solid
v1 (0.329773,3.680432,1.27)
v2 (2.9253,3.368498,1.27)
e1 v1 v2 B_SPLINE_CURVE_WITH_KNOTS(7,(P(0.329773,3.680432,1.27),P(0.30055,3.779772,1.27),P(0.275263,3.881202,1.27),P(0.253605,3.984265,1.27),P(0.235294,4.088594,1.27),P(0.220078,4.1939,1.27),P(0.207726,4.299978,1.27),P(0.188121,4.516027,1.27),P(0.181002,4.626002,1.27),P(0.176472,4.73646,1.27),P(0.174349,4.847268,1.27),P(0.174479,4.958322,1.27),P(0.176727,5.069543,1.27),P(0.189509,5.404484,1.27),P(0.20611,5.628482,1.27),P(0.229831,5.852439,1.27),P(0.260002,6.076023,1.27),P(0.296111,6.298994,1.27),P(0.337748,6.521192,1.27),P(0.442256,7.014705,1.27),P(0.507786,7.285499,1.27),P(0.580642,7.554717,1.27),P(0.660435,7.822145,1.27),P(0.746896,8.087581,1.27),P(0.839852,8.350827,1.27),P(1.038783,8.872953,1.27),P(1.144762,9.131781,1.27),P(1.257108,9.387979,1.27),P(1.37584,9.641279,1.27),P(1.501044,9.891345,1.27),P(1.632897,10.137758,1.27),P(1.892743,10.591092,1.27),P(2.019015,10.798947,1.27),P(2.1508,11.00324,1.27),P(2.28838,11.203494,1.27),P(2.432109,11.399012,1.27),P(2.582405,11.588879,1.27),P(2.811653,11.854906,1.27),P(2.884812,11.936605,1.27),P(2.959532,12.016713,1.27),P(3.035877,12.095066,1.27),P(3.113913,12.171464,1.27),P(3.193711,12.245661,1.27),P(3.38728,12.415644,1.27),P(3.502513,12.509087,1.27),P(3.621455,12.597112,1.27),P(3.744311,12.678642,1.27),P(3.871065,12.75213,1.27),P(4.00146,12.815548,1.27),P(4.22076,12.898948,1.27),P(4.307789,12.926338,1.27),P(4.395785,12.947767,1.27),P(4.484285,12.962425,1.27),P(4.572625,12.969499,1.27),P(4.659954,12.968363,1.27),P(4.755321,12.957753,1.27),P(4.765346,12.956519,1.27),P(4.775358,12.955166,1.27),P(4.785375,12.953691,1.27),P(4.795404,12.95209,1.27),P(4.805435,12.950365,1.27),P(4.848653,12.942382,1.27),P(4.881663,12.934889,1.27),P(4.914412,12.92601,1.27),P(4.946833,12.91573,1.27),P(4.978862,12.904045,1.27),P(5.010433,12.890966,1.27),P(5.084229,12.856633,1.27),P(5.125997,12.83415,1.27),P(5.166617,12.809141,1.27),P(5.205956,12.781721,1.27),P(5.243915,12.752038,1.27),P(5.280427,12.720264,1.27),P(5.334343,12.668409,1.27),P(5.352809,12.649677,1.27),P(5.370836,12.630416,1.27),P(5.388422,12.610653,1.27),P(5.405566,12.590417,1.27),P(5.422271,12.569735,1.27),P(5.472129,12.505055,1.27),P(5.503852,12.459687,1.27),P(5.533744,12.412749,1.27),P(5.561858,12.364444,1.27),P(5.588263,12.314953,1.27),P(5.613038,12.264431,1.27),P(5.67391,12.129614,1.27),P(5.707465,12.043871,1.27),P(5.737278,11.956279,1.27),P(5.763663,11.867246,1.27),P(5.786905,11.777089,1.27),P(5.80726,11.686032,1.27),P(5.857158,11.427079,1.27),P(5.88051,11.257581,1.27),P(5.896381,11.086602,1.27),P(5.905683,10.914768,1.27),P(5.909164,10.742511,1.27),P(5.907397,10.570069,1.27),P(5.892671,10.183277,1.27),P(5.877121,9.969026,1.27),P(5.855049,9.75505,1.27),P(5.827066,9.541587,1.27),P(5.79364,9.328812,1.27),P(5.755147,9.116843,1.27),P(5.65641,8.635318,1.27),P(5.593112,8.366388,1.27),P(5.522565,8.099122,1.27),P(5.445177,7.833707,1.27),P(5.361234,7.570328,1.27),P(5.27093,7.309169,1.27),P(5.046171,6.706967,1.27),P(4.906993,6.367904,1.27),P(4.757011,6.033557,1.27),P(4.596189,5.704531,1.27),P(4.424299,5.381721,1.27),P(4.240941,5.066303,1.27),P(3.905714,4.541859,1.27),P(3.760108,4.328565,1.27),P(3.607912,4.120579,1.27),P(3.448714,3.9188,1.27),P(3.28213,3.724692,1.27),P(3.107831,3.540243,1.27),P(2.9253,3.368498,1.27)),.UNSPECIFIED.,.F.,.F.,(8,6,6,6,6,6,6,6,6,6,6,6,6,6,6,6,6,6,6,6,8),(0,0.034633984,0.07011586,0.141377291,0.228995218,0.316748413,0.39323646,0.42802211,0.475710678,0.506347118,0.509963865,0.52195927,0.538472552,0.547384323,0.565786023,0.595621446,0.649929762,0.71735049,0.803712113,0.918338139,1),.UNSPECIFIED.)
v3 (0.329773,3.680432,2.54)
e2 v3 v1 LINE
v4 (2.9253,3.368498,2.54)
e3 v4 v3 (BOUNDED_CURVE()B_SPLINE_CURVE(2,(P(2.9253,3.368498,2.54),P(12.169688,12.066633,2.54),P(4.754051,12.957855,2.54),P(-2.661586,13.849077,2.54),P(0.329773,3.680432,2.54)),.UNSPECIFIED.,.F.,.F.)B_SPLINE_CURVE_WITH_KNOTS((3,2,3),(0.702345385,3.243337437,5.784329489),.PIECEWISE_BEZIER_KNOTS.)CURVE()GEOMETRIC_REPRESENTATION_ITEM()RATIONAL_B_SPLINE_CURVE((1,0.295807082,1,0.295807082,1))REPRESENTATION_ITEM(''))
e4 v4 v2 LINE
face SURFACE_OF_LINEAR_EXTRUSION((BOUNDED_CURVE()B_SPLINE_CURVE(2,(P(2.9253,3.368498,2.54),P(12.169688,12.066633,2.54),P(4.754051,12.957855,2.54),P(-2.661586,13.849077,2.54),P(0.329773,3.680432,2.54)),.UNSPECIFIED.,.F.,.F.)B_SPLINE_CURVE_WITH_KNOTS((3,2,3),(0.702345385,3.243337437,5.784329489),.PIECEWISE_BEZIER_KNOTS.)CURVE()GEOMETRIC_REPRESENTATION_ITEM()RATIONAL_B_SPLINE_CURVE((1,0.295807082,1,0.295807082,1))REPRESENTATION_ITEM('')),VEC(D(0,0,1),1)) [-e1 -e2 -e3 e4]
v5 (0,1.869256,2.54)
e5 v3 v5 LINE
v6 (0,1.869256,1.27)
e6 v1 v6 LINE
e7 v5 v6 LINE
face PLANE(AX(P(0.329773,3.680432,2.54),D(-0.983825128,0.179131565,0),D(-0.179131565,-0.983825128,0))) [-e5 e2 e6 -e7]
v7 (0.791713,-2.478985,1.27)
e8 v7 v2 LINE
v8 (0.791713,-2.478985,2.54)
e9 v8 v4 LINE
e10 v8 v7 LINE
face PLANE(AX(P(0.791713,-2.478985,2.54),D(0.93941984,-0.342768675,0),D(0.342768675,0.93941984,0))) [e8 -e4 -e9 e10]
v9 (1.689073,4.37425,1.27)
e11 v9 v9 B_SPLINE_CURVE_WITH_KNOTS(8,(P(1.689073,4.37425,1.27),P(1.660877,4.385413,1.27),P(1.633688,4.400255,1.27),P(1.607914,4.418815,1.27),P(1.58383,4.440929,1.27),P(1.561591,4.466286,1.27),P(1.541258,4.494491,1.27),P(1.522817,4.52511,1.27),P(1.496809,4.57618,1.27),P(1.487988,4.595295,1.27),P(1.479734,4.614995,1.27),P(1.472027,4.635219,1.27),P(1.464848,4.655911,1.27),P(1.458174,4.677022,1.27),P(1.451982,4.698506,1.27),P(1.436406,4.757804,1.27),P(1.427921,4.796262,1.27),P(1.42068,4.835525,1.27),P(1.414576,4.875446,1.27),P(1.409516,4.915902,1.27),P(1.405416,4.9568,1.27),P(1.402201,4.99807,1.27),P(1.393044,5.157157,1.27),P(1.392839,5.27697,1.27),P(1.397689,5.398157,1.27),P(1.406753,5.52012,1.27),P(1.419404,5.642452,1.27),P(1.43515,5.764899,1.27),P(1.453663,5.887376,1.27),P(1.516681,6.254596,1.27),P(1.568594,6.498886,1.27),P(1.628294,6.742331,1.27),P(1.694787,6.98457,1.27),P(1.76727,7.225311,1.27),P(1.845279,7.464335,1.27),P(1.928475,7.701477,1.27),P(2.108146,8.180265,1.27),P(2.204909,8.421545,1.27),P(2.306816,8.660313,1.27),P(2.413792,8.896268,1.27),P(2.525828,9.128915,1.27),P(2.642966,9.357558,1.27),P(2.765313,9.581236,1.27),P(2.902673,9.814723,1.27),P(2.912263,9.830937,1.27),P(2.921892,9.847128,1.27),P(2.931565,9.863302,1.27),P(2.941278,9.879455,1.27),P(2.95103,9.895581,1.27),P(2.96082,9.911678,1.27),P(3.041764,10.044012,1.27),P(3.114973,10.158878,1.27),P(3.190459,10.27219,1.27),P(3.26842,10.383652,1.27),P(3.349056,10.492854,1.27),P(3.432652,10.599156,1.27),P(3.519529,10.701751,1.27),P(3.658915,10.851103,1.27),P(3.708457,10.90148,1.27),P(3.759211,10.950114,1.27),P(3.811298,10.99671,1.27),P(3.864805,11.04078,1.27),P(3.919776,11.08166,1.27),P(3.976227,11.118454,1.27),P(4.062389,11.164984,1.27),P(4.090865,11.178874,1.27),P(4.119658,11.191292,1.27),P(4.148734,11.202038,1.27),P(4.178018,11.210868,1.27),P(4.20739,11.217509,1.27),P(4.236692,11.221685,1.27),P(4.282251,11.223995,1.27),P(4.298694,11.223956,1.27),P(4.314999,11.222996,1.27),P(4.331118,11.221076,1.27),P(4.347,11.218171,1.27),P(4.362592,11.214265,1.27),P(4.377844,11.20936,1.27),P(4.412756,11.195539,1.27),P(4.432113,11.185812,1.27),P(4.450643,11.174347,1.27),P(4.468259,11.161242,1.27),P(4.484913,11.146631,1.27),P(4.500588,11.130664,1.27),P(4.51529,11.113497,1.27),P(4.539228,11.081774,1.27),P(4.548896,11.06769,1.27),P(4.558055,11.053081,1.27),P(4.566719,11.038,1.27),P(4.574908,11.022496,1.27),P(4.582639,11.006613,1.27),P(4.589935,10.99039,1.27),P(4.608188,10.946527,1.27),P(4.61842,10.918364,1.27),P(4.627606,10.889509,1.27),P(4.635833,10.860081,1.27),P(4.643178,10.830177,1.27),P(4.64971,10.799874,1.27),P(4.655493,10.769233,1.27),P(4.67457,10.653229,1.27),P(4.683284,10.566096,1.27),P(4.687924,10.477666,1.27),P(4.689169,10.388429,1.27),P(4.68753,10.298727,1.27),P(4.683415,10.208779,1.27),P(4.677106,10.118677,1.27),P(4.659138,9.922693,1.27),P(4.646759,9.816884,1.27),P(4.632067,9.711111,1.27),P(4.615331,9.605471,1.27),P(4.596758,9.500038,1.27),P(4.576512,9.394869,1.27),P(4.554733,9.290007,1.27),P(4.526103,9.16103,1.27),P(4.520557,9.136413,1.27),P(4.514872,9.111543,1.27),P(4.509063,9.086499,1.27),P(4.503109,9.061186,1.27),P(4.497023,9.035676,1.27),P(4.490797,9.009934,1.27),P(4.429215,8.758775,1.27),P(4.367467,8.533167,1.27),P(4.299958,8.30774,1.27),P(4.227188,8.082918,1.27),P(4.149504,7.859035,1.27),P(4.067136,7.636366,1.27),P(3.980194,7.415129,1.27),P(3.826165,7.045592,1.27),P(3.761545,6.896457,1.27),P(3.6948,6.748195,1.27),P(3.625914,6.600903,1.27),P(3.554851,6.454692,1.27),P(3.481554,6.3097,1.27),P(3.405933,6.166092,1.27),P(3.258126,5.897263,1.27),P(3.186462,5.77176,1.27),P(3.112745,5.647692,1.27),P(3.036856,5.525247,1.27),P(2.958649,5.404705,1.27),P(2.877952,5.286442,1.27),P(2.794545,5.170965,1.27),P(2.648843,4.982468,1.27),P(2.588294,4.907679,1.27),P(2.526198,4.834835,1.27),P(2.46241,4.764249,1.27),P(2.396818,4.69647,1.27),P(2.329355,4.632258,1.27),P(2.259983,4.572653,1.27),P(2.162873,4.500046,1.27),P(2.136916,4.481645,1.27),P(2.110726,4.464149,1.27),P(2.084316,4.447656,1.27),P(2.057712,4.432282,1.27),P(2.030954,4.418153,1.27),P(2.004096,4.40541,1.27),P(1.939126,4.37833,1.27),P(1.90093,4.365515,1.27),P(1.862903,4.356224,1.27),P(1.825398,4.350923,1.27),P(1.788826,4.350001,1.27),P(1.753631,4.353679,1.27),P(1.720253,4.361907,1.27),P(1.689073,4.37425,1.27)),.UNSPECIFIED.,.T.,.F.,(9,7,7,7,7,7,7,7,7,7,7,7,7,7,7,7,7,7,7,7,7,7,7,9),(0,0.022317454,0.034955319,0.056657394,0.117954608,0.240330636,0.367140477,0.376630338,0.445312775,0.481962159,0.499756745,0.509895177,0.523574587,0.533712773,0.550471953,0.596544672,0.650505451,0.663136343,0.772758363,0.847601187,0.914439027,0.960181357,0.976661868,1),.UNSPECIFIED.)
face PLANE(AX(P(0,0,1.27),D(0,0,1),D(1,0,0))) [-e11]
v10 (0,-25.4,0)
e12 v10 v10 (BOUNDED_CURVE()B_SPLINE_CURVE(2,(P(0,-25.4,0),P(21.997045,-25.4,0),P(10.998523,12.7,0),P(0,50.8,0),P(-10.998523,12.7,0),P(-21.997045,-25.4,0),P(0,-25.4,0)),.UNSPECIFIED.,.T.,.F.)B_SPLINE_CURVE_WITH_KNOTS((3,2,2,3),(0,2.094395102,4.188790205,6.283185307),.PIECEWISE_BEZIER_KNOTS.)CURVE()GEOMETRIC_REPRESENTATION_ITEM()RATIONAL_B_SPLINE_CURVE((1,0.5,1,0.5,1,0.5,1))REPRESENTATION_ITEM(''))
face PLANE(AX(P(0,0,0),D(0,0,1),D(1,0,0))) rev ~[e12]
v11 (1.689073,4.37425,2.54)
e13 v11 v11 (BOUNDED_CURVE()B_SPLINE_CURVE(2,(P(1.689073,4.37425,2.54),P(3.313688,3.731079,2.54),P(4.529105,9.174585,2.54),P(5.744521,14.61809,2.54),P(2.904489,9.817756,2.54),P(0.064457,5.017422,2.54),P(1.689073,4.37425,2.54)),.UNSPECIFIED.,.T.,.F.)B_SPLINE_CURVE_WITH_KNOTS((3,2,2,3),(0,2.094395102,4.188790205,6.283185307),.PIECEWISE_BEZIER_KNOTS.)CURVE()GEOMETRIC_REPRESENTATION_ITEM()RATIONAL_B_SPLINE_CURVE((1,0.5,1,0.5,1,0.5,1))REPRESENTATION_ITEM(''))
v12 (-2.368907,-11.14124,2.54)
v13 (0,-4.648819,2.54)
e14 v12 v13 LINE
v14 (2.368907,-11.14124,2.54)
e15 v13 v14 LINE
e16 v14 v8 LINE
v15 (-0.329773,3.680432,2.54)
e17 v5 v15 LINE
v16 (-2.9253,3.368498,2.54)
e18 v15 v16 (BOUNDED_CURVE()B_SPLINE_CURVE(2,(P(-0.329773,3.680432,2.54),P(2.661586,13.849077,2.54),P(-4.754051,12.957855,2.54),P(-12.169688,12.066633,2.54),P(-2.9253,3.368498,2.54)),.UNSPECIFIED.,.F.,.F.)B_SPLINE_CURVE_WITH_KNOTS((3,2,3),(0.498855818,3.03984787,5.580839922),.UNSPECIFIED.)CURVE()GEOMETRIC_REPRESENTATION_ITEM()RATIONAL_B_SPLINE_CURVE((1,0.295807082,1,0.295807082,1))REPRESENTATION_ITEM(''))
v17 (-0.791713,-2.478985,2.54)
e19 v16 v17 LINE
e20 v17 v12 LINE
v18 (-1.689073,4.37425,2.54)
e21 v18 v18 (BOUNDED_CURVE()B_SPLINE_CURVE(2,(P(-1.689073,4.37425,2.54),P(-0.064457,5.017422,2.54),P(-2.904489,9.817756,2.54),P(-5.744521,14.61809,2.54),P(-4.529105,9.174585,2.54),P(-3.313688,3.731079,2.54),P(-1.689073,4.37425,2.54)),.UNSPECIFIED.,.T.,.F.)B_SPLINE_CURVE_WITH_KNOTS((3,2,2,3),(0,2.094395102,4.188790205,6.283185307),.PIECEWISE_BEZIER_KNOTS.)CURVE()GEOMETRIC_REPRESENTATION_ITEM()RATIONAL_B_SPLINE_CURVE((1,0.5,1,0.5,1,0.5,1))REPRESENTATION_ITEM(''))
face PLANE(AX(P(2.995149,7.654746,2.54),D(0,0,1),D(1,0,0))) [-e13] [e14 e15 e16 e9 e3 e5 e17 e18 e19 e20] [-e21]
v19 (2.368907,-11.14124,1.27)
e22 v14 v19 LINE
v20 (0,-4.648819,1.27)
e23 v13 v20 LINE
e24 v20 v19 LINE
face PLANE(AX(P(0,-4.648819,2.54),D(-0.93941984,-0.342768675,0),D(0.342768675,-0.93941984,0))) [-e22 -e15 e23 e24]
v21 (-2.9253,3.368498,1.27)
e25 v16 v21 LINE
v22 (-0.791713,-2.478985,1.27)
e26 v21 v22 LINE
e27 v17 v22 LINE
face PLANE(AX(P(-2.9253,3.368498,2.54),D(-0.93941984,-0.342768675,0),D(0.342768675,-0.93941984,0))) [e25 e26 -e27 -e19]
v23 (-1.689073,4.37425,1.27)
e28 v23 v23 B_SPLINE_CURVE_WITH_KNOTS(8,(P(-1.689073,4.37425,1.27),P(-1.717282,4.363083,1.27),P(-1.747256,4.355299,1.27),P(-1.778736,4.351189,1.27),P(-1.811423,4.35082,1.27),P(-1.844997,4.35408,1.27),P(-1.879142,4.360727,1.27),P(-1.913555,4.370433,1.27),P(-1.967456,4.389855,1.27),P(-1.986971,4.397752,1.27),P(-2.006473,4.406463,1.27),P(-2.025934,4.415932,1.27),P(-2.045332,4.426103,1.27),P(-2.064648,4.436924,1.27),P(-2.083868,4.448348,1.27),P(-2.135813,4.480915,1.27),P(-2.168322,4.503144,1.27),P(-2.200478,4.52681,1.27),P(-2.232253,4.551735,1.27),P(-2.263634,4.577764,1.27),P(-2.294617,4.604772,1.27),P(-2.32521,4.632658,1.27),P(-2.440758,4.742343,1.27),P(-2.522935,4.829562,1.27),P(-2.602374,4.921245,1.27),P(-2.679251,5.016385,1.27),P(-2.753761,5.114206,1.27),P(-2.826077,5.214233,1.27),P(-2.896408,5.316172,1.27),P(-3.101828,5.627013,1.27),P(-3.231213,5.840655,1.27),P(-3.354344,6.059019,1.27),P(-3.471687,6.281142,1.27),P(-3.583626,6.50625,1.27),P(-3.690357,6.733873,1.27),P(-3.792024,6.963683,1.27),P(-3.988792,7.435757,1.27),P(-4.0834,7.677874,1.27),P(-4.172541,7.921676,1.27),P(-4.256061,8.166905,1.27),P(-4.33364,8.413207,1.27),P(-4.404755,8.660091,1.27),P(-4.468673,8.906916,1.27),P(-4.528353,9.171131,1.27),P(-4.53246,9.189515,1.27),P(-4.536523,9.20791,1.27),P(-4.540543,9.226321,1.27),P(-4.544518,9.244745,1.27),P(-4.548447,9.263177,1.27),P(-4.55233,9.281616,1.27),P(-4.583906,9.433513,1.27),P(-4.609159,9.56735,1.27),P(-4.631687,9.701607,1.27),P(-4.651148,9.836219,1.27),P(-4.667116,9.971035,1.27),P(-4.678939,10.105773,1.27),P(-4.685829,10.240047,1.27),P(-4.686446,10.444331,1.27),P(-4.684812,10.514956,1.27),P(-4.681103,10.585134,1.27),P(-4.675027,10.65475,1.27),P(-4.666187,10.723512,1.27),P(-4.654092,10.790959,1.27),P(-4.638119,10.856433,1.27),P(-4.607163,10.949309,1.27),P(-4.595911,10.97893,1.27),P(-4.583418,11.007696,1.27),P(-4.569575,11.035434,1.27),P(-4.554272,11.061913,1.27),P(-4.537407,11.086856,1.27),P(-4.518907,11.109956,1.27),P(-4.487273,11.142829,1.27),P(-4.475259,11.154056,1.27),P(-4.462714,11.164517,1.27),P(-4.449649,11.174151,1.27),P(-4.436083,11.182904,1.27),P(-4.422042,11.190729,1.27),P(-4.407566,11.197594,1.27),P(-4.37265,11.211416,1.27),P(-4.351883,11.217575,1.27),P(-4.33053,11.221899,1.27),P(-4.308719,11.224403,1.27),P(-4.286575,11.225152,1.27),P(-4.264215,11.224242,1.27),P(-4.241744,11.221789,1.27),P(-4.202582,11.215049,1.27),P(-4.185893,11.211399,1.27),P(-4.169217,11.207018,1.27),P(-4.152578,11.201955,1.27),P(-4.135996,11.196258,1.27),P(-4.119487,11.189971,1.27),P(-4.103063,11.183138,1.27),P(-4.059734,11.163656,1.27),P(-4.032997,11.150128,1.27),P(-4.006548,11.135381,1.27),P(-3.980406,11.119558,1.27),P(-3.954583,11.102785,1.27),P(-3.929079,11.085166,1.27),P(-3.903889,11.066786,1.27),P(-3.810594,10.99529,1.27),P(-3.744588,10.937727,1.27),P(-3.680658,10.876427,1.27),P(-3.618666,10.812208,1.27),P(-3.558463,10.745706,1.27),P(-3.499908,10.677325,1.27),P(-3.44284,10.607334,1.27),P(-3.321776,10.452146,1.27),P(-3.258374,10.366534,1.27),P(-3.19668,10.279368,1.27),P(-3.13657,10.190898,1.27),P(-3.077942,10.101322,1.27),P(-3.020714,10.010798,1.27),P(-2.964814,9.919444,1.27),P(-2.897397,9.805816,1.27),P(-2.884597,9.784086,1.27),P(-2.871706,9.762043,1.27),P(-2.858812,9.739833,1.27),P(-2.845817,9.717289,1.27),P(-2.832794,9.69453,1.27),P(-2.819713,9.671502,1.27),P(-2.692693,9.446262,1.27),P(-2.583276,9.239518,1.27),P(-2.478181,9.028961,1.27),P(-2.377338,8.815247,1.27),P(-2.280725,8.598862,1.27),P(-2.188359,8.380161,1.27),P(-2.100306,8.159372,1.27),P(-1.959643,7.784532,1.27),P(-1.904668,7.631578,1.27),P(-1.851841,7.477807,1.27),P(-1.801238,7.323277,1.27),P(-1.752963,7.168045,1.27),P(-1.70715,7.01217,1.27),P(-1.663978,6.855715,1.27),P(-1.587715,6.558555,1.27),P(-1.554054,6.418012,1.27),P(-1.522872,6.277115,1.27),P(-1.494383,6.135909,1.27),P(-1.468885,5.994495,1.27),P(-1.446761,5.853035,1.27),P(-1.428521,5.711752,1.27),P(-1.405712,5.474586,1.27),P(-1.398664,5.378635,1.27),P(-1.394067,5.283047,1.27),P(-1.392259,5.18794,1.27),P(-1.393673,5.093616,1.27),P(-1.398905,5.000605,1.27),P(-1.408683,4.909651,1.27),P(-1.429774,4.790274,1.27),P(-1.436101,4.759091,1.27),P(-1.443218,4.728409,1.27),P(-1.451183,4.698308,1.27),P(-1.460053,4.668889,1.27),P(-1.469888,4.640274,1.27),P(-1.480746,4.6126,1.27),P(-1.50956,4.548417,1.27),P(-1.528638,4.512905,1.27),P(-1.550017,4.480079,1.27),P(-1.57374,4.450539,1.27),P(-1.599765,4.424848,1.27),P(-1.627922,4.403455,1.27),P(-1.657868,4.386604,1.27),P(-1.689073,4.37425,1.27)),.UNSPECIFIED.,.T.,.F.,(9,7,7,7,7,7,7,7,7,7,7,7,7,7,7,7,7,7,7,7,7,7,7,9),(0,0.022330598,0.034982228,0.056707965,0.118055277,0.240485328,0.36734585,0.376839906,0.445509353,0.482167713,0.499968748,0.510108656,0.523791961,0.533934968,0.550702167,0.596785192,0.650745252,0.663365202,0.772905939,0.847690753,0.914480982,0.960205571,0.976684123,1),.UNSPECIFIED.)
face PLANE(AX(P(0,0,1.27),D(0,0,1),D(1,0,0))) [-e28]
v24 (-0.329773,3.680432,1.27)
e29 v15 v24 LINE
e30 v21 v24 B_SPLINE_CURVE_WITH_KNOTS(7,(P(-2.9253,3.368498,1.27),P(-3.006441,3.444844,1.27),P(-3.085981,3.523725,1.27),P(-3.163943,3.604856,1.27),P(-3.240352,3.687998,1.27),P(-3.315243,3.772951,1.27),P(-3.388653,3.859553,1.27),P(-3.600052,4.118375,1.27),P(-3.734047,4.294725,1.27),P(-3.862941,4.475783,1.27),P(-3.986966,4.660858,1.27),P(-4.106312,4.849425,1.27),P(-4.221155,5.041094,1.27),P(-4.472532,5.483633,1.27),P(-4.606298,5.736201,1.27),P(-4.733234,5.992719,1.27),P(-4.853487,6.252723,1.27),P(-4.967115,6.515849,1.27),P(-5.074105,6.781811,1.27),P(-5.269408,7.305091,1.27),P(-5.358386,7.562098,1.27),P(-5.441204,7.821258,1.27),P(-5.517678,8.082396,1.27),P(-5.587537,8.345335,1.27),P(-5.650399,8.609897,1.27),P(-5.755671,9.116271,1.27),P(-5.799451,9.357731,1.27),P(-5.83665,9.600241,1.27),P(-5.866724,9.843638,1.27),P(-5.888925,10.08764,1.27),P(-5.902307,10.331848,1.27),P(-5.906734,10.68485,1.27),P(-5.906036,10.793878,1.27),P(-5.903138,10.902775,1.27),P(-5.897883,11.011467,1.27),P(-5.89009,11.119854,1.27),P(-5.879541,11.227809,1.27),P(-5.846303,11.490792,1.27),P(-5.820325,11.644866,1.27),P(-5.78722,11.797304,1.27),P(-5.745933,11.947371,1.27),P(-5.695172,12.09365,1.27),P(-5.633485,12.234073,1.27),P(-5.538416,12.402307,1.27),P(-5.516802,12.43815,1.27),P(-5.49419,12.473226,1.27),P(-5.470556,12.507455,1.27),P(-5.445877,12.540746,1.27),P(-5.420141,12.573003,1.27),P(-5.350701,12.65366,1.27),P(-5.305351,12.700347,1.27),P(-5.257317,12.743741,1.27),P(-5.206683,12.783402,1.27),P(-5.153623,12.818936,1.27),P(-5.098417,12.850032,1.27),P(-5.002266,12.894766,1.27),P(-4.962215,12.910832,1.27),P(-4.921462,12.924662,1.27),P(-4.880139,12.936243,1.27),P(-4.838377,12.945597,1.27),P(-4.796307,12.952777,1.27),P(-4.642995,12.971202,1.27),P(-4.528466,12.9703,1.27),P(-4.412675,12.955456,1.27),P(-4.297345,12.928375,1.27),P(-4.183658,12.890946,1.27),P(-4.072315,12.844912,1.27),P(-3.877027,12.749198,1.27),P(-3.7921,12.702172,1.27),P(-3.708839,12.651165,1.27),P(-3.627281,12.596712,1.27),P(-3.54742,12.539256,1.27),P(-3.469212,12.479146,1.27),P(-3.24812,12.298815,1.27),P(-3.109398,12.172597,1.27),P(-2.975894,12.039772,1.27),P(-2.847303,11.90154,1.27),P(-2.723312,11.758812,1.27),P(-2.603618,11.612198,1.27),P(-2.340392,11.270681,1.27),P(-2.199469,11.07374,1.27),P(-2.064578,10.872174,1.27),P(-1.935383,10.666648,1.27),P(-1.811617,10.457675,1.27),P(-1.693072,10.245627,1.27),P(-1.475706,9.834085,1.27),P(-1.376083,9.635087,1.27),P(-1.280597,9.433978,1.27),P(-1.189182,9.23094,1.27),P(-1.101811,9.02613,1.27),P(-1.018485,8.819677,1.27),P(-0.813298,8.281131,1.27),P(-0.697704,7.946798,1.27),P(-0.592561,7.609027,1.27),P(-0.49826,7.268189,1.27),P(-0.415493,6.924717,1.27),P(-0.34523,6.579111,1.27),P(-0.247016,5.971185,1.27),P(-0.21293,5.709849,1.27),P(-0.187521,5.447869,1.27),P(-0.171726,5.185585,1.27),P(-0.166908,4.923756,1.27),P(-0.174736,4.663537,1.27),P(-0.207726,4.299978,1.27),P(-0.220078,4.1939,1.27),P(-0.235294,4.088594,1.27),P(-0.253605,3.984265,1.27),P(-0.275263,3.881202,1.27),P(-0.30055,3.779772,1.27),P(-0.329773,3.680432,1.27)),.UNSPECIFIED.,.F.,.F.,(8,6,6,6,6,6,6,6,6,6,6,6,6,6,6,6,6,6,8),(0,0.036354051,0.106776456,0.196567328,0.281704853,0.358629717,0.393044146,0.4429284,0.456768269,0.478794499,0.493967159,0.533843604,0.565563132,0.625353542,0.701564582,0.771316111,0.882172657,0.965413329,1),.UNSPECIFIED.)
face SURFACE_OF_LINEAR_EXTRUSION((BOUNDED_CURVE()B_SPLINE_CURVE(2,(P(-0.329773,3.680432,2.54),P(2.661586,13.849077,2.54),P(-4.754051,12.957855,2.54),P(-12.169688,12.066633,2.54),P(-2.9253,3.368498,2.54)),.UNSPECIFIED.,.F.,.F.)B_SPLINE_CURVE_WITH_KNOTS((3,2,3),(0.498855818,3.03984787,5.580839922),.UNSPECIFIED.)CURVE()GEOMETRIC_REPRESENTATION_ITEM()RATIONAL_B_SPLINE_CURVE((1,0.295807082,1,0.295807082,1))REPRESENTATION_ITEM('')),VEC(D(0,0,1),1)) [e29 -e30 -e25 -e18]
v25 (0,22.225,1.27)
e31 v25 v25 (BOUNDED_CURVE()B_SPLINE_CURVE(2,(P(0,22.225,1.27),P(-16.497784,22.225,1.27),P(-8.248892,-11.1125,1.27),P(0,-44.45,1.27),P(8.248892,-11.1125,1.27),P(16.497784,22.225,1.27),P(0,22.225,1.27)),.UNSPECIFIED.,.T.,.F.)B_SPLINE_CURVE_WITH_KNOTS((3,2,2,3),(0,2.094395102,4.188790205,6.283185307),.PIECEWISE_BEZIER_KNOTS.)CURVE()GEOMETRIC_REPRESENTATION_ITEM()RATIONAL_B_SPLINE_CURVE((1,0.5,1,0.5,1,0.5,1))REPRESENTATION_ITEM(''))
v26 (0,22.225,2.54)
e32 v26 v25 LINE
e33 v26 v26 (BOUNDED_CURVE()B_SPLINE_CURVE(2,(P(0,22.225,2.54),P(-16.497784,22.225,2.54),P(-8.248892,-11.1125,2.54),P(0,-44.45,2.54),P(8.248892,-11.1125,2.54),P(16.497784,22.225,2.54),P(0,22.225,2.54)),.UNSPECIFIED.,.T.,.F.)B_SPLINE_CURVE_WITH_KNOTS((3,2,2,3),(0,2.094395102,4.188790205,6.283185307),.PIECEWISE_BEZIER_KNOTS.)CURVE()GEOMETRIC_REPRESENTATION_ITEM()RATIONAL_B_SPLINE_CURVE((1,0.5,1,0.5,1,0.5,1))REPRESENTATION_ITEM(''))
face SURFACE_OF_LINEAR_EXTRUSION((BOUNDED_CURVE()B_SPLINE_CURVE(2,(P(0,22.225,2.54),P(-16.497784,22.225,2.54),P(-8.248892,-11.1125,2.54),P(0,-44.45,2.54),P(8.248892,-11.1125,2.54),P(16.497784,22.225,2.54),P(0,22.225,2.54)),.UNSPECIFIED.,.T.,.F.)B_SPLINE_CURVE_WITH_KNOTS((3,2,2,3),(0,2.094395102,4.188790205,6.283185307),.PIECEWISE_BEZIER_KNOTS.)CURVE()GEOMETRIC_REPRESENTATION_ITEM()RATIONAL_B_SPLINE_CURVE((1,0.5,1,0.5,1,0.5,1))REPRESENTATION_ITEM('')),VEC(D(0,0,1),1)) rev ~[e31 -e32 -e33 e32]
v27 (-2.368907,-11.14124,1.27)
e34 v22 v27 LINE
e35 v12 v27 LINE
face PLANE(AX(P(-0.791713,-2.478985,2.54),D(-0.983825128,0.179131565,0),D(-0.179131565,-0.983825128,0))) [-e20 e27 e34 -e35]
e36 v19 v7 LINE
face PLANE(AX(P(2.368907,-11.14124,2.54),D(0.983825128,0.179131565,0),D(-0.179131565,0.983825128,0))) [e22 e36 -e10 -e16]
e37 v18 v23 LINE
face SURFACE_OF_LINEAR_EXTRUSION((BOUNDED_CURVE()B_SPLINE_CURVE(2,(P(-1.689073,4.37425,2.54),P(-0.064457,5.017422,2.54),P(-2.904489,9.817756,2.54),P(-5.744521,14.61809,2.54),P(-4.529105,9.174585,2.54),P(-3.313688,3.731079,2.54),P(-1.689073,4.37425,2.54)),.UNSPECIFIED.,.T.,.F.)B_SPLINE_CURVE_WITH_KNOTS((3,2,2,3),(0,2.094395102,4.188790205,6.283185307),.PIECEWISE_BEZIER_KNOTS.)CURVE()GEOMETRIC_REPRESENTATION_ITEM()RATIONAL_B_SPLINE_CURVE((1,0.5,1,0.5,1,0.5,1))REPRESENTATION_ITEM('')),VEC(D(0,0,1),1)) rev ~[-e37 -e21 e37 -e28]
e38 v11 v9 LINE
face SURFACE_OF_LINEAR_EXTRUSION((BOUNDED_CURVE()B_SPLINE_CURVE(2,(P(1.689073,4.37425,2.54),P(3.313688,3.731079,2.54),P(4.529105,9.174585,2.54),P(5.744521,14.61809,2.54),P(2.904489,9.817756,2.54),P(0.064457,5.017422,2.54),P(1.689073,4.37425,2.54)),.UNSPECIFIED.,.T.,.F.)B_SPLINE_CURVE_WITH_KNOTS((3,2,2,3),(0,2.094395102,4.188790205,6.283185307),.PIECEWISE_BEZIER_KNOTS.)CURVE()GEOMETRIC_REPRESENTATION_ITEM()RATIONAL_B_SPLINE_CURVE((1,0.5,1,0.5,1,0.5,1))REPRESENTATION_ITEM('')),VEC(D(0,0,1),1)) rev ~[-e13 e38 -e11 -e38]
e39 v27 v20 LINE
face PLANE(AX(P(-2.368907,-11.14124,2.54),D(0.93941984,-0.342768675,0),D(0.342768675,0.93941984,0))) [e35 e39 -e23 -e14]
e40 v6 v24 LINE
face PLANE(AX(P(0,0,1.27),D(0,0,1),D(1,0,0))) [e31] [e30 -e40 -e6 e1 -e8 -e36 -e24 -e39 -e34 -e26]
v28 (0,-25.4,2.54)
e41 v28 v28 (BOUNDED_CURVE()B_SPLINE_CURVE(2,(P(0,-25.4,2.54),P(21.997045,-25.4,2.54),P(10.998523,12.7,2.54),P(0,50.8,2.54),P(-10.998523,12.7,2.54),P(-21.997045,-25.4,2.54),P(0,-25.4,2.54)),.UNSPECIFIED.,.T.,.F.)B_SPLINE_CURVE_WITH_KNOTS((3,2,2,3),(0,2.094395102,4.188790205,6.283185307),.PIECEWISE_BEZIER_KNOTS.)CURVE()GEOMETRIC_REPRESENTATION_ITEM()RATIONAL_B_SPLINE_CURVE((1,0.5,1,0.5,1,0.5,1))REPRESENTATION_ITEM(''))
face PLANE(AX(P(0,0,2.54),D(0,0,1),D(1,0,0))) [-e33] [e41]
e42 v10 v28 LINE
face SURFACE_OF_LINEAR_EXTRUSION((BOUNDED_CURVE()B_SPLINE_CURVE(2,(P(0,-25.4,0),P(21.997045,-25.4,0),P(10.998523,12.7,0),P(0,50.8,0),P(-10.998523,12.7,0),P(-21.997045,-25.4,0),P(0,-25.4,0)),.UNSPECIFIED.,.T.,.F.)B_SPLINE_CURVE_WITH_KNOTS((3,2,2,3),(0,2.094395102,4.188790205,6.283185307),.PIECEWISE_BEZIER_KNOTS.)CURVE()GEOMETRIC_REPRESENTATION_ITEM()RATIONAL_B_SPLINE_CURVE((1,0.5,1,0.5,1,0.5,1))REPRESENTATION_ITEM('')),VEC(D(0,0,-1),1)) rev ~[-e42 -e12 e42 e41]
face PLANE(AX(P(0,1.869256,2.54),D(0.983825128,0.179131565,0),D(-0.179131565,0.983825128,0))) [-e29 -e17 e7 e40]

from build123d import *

# Parameters (mm, degrees)
F1_DEPTH = 2.54
F3_DEPTH = 1.27
F5_DEPTH = 1.524


with BuildPart() as f1:
    # F0 (on Top) → F1 (new body)
    with BuildSketch(Plane.XY):
        with BuildLine():
            add(Edge.make_bspline(
                [(0, -25.4), (21.9970452561, -25.4), (10.9985226281, 12.7), (0, 50.8), (-10.9985226281, 12.7), (-21.9970452561, -25.4), (0, -25.4)],
                knots=[0, 0, 0, 2.0943951024, 2.0943951024, 4.1887902048, 4.1887902048, 6.2831853072, 6.2831853072, 6.2831853072], degree=2, weights=[1, 0.5, 1, 0.5, 1, 0.5, 1]))
        make_face()
    extrude(amount=F1_DEPTH)

    # F2 (on face) → F3 (cut)
    with BuildSketch(Plane.XY.offset(2.54)):
        with BuildLine():
            add(Edge.make_bspline(
                [(0, 22.225), (-16.4977839421, 22.225), (-8.248891971, -11.1125), (0, -44.45), (8.248891971, -11.1125), (16.4977839421, 22.225), (0, 22.225)],
                knots=[0, 0, 0, 2.0943951024, 2.0943951024, 4.1887902048, 4.1887902048, 6.2831853072, 6.2831853072, 6.2831853072], degree=2, weights=[1, 0.5, 1, 0.5, 1, 0.5, 1]))
        make_face()
    extrude(amount=-F3_DEPTH, mode=Mode.SUBTRACT)

    # F4 (on face) → F5 (join)
    with BuildSketch(Plane.XY.offset(2.54)):
        with BuildLine():
            add(Edge.make_bspline(
                [(0.3297728111, 3.6804318489), (0.5657367724, 2.8783101994), (1.1033461902, 2.6746350671)],
                knots=[5.7843294893, 5.7843294893, 5.7843294893, 6.2831853072, 6.2831853072, 6.2831853072], degree=2, weights=[1, 0.9690538007, 1]))
            add(Edge.make_bspline(
                [(1.1033461902, 2.6746350671), (1.8765393485, 2.3817082441), (2.9253001029, 3.3684975191)],
                knots=[0, 0, 0, 0.7023453847, 0.7023453847, 0.7023453847], degree=2, weights=[1, 0.9389699534, 1]))
            add(Edge.make_bspline(
                [(2.9253001029, 3.3684975191), (12.1696881356, 12.066632843), (4.7540509214, 12.9578551513), (-2.6615862927, 13.8490774597), (0.3297728111, 3.6804318489)],
                knots=[0.7023453847, 0.7023453847, 0.7023453847, 3.243337437, 3.243337437, 5.7843294893, 5.7843294893, 5.7843294893], degree=2, weights=[1, 0.2958070815, 1, 0.2958070815, 1]))
        make_face()
        with BuildLine():
            add(Edge.make_bspline(
                [(1.6890727122, 4.3742504076), (3.3136882068, 3.7310790464), (4.5291047053, 9.1745846807), (5.7445212038, 14.6180903149), (2.9044892107, 9.8177560418), (0.0644572176, 5.0174217688), (1.6890727122, 4.3742504076)],
                knots=[0, 0, 0, 2.0943951024, 2.0943951024, 4.1887902048, 4.1887902048, 6.2831853072, 6.2831853072, 6.2831853072], degree=2, weights=[1, 0.5, 1, 0.5, 1, 0.5, 1]))
        make_face(mode=Mode.SUBTRACT)
        with BuildLine():
            add(Edge.make_bspline(
                [(1.1033461902, 2.6746350671), (1.8765393485, 2.3817082441), (2.9253001029, 3.3684975191)],
                knots=[0, 0, 0, 0.7023453847, 0.7023453847, 0.7023453847], degree=2, weights=[1, 0.9389699534, 1]))
            add(Edge.make_bspline(
                [(0.3297728111, 3.6804318489), (0.5657367724, 2.8783101994), (1.1033461902, 2.6746350671)],
                knots=[5.7843294893, 5.7843294893, 5.7843294893, 6.2831853072, 6.2831853072, 6.2831853072], degree=2, weights=[1, 0.9690538007, 1]))
            Line((0.3297728111, 3.6804318489), (0, 1.8692559257))
            Line((0, 1.8692559257), (0.7917131185, -2.4789853176))
            Line((0.7917131185, -2.4789853176), (2.9253001029, 3.3684975191))
        make_face()
        Polygon((2.3689072113, -11.1412396654), (0.7917131185, -2.4789853176), (0, -4.6488189855), align=None)
        Polygon((0, -4.6488189855), (0.7917131185, -2.4789853176), (0, 1.8692559257), (-0.7917131185, -2.4789853176), align=None)
        with BuildLine():
            Line((-0.7917131185, -2.4789853176), (0, 1.8692559257))
            Line((0, 1.8692559257), (-0.3297728111, 3.6804318489))
            add(Edge.make_bspline(
                [(-1.1033461902, 2.6746350671), (-0.5657367724, 2.8783101994), (-0.3297728111, 3.6804318489)],
                knots=[0, 0, 0, 0.4988558179, 0.4988558179, 0.4988558179], degree=2, weights=[1, 0.9690538007, 1]))
            add(Edge.make_bspline(
                [(-2.9253001029, 3.3684975191), (-1.8765393485, 2.3817082441), (-1.1033461902, 2.6746350671)],
                knots=[5.5808399224, 5.5808399224, 5.5808399224, 6.2831853072, 6.2831853072, 6.2831853072], degree=2, weights=[1, 0.9389699534, 1]))
            Line((-2.9253001029, 3.3684975191), (-0.7917131185, -2.4789853176))
        make_face()
        Polygon((-2.3689072113, -11.1412396654), (0, -4.6488189855), (-0.7917131185, -2.4789853176), align=None)
        with BuildLine():
            add(Edge.make_bspline(
                [(-1.1033461902, 2.6746350671), (-0.5657367724, 2.8783101994), (-0.3297728111, 3.6804318489)],
                knots=[0, 0, 0, 0.4988558179, 0.4988558179, 0.4988558179], degree=2, weights=[1, 0.9690538007, 1]))
            add(Edge.make_bspline(
                [(-0.3297728111, 3.6804318489), (2.6615862927, 13.8490774597), (-4.7540509214, 12.9578551513), (-12.1696881356, 12.066632843), (-2.9253001029, 3.3684975191)],
                knots=[0.4988558179, 0.4988558179, 0.4988558179, 3.0398478702, 3.0398478702, 5.5808399224, 5.5808399224, 5.5808399224], degree=2, weights=[1, 0.2958070815, 1, 0.2958070815, 1]))
            add(Edge.make_bspline(
                [(-2.9253001029, 3.3684975191), (-1.8765393485, 2.3817082441), (-1.1033461902, 2.6746350671)],
                knots=[5.5808399224, 5.5808399224, 5.5808399224, 6.2831853072, 6.2831853072, 6.2831853072], degree=2, weights=[1, 0.9389699534, 1]))
        make_face()
        with BuildLine():
            add(Edge.make_bspline(
                [(-1.6890727122, 4.3742504076), (-0.0644572176, 5.0174217688), (-2.9044892107, 9.8177560418), (-5.7445212038, 14.6180903149), (-4.5291047053, 9.1745846807), (-3.3136882068, 3.7310790464), (-1.6890727122, 4.3742504076)],
                knots=[0, 0, 0, 2.0943951024, 2.0943951024, 4.1887902048, 4.1887902048, 6.2831853072, 6.2831853072, 6.2831853072], degree=2, weights=[1, 0.5, 1, 0.5, 1, 0.5, 1]))
        make_face(mode=Mode.SUBTRACT)
    extrude(amount=-F5_DEPTH)


solid = f1.part
